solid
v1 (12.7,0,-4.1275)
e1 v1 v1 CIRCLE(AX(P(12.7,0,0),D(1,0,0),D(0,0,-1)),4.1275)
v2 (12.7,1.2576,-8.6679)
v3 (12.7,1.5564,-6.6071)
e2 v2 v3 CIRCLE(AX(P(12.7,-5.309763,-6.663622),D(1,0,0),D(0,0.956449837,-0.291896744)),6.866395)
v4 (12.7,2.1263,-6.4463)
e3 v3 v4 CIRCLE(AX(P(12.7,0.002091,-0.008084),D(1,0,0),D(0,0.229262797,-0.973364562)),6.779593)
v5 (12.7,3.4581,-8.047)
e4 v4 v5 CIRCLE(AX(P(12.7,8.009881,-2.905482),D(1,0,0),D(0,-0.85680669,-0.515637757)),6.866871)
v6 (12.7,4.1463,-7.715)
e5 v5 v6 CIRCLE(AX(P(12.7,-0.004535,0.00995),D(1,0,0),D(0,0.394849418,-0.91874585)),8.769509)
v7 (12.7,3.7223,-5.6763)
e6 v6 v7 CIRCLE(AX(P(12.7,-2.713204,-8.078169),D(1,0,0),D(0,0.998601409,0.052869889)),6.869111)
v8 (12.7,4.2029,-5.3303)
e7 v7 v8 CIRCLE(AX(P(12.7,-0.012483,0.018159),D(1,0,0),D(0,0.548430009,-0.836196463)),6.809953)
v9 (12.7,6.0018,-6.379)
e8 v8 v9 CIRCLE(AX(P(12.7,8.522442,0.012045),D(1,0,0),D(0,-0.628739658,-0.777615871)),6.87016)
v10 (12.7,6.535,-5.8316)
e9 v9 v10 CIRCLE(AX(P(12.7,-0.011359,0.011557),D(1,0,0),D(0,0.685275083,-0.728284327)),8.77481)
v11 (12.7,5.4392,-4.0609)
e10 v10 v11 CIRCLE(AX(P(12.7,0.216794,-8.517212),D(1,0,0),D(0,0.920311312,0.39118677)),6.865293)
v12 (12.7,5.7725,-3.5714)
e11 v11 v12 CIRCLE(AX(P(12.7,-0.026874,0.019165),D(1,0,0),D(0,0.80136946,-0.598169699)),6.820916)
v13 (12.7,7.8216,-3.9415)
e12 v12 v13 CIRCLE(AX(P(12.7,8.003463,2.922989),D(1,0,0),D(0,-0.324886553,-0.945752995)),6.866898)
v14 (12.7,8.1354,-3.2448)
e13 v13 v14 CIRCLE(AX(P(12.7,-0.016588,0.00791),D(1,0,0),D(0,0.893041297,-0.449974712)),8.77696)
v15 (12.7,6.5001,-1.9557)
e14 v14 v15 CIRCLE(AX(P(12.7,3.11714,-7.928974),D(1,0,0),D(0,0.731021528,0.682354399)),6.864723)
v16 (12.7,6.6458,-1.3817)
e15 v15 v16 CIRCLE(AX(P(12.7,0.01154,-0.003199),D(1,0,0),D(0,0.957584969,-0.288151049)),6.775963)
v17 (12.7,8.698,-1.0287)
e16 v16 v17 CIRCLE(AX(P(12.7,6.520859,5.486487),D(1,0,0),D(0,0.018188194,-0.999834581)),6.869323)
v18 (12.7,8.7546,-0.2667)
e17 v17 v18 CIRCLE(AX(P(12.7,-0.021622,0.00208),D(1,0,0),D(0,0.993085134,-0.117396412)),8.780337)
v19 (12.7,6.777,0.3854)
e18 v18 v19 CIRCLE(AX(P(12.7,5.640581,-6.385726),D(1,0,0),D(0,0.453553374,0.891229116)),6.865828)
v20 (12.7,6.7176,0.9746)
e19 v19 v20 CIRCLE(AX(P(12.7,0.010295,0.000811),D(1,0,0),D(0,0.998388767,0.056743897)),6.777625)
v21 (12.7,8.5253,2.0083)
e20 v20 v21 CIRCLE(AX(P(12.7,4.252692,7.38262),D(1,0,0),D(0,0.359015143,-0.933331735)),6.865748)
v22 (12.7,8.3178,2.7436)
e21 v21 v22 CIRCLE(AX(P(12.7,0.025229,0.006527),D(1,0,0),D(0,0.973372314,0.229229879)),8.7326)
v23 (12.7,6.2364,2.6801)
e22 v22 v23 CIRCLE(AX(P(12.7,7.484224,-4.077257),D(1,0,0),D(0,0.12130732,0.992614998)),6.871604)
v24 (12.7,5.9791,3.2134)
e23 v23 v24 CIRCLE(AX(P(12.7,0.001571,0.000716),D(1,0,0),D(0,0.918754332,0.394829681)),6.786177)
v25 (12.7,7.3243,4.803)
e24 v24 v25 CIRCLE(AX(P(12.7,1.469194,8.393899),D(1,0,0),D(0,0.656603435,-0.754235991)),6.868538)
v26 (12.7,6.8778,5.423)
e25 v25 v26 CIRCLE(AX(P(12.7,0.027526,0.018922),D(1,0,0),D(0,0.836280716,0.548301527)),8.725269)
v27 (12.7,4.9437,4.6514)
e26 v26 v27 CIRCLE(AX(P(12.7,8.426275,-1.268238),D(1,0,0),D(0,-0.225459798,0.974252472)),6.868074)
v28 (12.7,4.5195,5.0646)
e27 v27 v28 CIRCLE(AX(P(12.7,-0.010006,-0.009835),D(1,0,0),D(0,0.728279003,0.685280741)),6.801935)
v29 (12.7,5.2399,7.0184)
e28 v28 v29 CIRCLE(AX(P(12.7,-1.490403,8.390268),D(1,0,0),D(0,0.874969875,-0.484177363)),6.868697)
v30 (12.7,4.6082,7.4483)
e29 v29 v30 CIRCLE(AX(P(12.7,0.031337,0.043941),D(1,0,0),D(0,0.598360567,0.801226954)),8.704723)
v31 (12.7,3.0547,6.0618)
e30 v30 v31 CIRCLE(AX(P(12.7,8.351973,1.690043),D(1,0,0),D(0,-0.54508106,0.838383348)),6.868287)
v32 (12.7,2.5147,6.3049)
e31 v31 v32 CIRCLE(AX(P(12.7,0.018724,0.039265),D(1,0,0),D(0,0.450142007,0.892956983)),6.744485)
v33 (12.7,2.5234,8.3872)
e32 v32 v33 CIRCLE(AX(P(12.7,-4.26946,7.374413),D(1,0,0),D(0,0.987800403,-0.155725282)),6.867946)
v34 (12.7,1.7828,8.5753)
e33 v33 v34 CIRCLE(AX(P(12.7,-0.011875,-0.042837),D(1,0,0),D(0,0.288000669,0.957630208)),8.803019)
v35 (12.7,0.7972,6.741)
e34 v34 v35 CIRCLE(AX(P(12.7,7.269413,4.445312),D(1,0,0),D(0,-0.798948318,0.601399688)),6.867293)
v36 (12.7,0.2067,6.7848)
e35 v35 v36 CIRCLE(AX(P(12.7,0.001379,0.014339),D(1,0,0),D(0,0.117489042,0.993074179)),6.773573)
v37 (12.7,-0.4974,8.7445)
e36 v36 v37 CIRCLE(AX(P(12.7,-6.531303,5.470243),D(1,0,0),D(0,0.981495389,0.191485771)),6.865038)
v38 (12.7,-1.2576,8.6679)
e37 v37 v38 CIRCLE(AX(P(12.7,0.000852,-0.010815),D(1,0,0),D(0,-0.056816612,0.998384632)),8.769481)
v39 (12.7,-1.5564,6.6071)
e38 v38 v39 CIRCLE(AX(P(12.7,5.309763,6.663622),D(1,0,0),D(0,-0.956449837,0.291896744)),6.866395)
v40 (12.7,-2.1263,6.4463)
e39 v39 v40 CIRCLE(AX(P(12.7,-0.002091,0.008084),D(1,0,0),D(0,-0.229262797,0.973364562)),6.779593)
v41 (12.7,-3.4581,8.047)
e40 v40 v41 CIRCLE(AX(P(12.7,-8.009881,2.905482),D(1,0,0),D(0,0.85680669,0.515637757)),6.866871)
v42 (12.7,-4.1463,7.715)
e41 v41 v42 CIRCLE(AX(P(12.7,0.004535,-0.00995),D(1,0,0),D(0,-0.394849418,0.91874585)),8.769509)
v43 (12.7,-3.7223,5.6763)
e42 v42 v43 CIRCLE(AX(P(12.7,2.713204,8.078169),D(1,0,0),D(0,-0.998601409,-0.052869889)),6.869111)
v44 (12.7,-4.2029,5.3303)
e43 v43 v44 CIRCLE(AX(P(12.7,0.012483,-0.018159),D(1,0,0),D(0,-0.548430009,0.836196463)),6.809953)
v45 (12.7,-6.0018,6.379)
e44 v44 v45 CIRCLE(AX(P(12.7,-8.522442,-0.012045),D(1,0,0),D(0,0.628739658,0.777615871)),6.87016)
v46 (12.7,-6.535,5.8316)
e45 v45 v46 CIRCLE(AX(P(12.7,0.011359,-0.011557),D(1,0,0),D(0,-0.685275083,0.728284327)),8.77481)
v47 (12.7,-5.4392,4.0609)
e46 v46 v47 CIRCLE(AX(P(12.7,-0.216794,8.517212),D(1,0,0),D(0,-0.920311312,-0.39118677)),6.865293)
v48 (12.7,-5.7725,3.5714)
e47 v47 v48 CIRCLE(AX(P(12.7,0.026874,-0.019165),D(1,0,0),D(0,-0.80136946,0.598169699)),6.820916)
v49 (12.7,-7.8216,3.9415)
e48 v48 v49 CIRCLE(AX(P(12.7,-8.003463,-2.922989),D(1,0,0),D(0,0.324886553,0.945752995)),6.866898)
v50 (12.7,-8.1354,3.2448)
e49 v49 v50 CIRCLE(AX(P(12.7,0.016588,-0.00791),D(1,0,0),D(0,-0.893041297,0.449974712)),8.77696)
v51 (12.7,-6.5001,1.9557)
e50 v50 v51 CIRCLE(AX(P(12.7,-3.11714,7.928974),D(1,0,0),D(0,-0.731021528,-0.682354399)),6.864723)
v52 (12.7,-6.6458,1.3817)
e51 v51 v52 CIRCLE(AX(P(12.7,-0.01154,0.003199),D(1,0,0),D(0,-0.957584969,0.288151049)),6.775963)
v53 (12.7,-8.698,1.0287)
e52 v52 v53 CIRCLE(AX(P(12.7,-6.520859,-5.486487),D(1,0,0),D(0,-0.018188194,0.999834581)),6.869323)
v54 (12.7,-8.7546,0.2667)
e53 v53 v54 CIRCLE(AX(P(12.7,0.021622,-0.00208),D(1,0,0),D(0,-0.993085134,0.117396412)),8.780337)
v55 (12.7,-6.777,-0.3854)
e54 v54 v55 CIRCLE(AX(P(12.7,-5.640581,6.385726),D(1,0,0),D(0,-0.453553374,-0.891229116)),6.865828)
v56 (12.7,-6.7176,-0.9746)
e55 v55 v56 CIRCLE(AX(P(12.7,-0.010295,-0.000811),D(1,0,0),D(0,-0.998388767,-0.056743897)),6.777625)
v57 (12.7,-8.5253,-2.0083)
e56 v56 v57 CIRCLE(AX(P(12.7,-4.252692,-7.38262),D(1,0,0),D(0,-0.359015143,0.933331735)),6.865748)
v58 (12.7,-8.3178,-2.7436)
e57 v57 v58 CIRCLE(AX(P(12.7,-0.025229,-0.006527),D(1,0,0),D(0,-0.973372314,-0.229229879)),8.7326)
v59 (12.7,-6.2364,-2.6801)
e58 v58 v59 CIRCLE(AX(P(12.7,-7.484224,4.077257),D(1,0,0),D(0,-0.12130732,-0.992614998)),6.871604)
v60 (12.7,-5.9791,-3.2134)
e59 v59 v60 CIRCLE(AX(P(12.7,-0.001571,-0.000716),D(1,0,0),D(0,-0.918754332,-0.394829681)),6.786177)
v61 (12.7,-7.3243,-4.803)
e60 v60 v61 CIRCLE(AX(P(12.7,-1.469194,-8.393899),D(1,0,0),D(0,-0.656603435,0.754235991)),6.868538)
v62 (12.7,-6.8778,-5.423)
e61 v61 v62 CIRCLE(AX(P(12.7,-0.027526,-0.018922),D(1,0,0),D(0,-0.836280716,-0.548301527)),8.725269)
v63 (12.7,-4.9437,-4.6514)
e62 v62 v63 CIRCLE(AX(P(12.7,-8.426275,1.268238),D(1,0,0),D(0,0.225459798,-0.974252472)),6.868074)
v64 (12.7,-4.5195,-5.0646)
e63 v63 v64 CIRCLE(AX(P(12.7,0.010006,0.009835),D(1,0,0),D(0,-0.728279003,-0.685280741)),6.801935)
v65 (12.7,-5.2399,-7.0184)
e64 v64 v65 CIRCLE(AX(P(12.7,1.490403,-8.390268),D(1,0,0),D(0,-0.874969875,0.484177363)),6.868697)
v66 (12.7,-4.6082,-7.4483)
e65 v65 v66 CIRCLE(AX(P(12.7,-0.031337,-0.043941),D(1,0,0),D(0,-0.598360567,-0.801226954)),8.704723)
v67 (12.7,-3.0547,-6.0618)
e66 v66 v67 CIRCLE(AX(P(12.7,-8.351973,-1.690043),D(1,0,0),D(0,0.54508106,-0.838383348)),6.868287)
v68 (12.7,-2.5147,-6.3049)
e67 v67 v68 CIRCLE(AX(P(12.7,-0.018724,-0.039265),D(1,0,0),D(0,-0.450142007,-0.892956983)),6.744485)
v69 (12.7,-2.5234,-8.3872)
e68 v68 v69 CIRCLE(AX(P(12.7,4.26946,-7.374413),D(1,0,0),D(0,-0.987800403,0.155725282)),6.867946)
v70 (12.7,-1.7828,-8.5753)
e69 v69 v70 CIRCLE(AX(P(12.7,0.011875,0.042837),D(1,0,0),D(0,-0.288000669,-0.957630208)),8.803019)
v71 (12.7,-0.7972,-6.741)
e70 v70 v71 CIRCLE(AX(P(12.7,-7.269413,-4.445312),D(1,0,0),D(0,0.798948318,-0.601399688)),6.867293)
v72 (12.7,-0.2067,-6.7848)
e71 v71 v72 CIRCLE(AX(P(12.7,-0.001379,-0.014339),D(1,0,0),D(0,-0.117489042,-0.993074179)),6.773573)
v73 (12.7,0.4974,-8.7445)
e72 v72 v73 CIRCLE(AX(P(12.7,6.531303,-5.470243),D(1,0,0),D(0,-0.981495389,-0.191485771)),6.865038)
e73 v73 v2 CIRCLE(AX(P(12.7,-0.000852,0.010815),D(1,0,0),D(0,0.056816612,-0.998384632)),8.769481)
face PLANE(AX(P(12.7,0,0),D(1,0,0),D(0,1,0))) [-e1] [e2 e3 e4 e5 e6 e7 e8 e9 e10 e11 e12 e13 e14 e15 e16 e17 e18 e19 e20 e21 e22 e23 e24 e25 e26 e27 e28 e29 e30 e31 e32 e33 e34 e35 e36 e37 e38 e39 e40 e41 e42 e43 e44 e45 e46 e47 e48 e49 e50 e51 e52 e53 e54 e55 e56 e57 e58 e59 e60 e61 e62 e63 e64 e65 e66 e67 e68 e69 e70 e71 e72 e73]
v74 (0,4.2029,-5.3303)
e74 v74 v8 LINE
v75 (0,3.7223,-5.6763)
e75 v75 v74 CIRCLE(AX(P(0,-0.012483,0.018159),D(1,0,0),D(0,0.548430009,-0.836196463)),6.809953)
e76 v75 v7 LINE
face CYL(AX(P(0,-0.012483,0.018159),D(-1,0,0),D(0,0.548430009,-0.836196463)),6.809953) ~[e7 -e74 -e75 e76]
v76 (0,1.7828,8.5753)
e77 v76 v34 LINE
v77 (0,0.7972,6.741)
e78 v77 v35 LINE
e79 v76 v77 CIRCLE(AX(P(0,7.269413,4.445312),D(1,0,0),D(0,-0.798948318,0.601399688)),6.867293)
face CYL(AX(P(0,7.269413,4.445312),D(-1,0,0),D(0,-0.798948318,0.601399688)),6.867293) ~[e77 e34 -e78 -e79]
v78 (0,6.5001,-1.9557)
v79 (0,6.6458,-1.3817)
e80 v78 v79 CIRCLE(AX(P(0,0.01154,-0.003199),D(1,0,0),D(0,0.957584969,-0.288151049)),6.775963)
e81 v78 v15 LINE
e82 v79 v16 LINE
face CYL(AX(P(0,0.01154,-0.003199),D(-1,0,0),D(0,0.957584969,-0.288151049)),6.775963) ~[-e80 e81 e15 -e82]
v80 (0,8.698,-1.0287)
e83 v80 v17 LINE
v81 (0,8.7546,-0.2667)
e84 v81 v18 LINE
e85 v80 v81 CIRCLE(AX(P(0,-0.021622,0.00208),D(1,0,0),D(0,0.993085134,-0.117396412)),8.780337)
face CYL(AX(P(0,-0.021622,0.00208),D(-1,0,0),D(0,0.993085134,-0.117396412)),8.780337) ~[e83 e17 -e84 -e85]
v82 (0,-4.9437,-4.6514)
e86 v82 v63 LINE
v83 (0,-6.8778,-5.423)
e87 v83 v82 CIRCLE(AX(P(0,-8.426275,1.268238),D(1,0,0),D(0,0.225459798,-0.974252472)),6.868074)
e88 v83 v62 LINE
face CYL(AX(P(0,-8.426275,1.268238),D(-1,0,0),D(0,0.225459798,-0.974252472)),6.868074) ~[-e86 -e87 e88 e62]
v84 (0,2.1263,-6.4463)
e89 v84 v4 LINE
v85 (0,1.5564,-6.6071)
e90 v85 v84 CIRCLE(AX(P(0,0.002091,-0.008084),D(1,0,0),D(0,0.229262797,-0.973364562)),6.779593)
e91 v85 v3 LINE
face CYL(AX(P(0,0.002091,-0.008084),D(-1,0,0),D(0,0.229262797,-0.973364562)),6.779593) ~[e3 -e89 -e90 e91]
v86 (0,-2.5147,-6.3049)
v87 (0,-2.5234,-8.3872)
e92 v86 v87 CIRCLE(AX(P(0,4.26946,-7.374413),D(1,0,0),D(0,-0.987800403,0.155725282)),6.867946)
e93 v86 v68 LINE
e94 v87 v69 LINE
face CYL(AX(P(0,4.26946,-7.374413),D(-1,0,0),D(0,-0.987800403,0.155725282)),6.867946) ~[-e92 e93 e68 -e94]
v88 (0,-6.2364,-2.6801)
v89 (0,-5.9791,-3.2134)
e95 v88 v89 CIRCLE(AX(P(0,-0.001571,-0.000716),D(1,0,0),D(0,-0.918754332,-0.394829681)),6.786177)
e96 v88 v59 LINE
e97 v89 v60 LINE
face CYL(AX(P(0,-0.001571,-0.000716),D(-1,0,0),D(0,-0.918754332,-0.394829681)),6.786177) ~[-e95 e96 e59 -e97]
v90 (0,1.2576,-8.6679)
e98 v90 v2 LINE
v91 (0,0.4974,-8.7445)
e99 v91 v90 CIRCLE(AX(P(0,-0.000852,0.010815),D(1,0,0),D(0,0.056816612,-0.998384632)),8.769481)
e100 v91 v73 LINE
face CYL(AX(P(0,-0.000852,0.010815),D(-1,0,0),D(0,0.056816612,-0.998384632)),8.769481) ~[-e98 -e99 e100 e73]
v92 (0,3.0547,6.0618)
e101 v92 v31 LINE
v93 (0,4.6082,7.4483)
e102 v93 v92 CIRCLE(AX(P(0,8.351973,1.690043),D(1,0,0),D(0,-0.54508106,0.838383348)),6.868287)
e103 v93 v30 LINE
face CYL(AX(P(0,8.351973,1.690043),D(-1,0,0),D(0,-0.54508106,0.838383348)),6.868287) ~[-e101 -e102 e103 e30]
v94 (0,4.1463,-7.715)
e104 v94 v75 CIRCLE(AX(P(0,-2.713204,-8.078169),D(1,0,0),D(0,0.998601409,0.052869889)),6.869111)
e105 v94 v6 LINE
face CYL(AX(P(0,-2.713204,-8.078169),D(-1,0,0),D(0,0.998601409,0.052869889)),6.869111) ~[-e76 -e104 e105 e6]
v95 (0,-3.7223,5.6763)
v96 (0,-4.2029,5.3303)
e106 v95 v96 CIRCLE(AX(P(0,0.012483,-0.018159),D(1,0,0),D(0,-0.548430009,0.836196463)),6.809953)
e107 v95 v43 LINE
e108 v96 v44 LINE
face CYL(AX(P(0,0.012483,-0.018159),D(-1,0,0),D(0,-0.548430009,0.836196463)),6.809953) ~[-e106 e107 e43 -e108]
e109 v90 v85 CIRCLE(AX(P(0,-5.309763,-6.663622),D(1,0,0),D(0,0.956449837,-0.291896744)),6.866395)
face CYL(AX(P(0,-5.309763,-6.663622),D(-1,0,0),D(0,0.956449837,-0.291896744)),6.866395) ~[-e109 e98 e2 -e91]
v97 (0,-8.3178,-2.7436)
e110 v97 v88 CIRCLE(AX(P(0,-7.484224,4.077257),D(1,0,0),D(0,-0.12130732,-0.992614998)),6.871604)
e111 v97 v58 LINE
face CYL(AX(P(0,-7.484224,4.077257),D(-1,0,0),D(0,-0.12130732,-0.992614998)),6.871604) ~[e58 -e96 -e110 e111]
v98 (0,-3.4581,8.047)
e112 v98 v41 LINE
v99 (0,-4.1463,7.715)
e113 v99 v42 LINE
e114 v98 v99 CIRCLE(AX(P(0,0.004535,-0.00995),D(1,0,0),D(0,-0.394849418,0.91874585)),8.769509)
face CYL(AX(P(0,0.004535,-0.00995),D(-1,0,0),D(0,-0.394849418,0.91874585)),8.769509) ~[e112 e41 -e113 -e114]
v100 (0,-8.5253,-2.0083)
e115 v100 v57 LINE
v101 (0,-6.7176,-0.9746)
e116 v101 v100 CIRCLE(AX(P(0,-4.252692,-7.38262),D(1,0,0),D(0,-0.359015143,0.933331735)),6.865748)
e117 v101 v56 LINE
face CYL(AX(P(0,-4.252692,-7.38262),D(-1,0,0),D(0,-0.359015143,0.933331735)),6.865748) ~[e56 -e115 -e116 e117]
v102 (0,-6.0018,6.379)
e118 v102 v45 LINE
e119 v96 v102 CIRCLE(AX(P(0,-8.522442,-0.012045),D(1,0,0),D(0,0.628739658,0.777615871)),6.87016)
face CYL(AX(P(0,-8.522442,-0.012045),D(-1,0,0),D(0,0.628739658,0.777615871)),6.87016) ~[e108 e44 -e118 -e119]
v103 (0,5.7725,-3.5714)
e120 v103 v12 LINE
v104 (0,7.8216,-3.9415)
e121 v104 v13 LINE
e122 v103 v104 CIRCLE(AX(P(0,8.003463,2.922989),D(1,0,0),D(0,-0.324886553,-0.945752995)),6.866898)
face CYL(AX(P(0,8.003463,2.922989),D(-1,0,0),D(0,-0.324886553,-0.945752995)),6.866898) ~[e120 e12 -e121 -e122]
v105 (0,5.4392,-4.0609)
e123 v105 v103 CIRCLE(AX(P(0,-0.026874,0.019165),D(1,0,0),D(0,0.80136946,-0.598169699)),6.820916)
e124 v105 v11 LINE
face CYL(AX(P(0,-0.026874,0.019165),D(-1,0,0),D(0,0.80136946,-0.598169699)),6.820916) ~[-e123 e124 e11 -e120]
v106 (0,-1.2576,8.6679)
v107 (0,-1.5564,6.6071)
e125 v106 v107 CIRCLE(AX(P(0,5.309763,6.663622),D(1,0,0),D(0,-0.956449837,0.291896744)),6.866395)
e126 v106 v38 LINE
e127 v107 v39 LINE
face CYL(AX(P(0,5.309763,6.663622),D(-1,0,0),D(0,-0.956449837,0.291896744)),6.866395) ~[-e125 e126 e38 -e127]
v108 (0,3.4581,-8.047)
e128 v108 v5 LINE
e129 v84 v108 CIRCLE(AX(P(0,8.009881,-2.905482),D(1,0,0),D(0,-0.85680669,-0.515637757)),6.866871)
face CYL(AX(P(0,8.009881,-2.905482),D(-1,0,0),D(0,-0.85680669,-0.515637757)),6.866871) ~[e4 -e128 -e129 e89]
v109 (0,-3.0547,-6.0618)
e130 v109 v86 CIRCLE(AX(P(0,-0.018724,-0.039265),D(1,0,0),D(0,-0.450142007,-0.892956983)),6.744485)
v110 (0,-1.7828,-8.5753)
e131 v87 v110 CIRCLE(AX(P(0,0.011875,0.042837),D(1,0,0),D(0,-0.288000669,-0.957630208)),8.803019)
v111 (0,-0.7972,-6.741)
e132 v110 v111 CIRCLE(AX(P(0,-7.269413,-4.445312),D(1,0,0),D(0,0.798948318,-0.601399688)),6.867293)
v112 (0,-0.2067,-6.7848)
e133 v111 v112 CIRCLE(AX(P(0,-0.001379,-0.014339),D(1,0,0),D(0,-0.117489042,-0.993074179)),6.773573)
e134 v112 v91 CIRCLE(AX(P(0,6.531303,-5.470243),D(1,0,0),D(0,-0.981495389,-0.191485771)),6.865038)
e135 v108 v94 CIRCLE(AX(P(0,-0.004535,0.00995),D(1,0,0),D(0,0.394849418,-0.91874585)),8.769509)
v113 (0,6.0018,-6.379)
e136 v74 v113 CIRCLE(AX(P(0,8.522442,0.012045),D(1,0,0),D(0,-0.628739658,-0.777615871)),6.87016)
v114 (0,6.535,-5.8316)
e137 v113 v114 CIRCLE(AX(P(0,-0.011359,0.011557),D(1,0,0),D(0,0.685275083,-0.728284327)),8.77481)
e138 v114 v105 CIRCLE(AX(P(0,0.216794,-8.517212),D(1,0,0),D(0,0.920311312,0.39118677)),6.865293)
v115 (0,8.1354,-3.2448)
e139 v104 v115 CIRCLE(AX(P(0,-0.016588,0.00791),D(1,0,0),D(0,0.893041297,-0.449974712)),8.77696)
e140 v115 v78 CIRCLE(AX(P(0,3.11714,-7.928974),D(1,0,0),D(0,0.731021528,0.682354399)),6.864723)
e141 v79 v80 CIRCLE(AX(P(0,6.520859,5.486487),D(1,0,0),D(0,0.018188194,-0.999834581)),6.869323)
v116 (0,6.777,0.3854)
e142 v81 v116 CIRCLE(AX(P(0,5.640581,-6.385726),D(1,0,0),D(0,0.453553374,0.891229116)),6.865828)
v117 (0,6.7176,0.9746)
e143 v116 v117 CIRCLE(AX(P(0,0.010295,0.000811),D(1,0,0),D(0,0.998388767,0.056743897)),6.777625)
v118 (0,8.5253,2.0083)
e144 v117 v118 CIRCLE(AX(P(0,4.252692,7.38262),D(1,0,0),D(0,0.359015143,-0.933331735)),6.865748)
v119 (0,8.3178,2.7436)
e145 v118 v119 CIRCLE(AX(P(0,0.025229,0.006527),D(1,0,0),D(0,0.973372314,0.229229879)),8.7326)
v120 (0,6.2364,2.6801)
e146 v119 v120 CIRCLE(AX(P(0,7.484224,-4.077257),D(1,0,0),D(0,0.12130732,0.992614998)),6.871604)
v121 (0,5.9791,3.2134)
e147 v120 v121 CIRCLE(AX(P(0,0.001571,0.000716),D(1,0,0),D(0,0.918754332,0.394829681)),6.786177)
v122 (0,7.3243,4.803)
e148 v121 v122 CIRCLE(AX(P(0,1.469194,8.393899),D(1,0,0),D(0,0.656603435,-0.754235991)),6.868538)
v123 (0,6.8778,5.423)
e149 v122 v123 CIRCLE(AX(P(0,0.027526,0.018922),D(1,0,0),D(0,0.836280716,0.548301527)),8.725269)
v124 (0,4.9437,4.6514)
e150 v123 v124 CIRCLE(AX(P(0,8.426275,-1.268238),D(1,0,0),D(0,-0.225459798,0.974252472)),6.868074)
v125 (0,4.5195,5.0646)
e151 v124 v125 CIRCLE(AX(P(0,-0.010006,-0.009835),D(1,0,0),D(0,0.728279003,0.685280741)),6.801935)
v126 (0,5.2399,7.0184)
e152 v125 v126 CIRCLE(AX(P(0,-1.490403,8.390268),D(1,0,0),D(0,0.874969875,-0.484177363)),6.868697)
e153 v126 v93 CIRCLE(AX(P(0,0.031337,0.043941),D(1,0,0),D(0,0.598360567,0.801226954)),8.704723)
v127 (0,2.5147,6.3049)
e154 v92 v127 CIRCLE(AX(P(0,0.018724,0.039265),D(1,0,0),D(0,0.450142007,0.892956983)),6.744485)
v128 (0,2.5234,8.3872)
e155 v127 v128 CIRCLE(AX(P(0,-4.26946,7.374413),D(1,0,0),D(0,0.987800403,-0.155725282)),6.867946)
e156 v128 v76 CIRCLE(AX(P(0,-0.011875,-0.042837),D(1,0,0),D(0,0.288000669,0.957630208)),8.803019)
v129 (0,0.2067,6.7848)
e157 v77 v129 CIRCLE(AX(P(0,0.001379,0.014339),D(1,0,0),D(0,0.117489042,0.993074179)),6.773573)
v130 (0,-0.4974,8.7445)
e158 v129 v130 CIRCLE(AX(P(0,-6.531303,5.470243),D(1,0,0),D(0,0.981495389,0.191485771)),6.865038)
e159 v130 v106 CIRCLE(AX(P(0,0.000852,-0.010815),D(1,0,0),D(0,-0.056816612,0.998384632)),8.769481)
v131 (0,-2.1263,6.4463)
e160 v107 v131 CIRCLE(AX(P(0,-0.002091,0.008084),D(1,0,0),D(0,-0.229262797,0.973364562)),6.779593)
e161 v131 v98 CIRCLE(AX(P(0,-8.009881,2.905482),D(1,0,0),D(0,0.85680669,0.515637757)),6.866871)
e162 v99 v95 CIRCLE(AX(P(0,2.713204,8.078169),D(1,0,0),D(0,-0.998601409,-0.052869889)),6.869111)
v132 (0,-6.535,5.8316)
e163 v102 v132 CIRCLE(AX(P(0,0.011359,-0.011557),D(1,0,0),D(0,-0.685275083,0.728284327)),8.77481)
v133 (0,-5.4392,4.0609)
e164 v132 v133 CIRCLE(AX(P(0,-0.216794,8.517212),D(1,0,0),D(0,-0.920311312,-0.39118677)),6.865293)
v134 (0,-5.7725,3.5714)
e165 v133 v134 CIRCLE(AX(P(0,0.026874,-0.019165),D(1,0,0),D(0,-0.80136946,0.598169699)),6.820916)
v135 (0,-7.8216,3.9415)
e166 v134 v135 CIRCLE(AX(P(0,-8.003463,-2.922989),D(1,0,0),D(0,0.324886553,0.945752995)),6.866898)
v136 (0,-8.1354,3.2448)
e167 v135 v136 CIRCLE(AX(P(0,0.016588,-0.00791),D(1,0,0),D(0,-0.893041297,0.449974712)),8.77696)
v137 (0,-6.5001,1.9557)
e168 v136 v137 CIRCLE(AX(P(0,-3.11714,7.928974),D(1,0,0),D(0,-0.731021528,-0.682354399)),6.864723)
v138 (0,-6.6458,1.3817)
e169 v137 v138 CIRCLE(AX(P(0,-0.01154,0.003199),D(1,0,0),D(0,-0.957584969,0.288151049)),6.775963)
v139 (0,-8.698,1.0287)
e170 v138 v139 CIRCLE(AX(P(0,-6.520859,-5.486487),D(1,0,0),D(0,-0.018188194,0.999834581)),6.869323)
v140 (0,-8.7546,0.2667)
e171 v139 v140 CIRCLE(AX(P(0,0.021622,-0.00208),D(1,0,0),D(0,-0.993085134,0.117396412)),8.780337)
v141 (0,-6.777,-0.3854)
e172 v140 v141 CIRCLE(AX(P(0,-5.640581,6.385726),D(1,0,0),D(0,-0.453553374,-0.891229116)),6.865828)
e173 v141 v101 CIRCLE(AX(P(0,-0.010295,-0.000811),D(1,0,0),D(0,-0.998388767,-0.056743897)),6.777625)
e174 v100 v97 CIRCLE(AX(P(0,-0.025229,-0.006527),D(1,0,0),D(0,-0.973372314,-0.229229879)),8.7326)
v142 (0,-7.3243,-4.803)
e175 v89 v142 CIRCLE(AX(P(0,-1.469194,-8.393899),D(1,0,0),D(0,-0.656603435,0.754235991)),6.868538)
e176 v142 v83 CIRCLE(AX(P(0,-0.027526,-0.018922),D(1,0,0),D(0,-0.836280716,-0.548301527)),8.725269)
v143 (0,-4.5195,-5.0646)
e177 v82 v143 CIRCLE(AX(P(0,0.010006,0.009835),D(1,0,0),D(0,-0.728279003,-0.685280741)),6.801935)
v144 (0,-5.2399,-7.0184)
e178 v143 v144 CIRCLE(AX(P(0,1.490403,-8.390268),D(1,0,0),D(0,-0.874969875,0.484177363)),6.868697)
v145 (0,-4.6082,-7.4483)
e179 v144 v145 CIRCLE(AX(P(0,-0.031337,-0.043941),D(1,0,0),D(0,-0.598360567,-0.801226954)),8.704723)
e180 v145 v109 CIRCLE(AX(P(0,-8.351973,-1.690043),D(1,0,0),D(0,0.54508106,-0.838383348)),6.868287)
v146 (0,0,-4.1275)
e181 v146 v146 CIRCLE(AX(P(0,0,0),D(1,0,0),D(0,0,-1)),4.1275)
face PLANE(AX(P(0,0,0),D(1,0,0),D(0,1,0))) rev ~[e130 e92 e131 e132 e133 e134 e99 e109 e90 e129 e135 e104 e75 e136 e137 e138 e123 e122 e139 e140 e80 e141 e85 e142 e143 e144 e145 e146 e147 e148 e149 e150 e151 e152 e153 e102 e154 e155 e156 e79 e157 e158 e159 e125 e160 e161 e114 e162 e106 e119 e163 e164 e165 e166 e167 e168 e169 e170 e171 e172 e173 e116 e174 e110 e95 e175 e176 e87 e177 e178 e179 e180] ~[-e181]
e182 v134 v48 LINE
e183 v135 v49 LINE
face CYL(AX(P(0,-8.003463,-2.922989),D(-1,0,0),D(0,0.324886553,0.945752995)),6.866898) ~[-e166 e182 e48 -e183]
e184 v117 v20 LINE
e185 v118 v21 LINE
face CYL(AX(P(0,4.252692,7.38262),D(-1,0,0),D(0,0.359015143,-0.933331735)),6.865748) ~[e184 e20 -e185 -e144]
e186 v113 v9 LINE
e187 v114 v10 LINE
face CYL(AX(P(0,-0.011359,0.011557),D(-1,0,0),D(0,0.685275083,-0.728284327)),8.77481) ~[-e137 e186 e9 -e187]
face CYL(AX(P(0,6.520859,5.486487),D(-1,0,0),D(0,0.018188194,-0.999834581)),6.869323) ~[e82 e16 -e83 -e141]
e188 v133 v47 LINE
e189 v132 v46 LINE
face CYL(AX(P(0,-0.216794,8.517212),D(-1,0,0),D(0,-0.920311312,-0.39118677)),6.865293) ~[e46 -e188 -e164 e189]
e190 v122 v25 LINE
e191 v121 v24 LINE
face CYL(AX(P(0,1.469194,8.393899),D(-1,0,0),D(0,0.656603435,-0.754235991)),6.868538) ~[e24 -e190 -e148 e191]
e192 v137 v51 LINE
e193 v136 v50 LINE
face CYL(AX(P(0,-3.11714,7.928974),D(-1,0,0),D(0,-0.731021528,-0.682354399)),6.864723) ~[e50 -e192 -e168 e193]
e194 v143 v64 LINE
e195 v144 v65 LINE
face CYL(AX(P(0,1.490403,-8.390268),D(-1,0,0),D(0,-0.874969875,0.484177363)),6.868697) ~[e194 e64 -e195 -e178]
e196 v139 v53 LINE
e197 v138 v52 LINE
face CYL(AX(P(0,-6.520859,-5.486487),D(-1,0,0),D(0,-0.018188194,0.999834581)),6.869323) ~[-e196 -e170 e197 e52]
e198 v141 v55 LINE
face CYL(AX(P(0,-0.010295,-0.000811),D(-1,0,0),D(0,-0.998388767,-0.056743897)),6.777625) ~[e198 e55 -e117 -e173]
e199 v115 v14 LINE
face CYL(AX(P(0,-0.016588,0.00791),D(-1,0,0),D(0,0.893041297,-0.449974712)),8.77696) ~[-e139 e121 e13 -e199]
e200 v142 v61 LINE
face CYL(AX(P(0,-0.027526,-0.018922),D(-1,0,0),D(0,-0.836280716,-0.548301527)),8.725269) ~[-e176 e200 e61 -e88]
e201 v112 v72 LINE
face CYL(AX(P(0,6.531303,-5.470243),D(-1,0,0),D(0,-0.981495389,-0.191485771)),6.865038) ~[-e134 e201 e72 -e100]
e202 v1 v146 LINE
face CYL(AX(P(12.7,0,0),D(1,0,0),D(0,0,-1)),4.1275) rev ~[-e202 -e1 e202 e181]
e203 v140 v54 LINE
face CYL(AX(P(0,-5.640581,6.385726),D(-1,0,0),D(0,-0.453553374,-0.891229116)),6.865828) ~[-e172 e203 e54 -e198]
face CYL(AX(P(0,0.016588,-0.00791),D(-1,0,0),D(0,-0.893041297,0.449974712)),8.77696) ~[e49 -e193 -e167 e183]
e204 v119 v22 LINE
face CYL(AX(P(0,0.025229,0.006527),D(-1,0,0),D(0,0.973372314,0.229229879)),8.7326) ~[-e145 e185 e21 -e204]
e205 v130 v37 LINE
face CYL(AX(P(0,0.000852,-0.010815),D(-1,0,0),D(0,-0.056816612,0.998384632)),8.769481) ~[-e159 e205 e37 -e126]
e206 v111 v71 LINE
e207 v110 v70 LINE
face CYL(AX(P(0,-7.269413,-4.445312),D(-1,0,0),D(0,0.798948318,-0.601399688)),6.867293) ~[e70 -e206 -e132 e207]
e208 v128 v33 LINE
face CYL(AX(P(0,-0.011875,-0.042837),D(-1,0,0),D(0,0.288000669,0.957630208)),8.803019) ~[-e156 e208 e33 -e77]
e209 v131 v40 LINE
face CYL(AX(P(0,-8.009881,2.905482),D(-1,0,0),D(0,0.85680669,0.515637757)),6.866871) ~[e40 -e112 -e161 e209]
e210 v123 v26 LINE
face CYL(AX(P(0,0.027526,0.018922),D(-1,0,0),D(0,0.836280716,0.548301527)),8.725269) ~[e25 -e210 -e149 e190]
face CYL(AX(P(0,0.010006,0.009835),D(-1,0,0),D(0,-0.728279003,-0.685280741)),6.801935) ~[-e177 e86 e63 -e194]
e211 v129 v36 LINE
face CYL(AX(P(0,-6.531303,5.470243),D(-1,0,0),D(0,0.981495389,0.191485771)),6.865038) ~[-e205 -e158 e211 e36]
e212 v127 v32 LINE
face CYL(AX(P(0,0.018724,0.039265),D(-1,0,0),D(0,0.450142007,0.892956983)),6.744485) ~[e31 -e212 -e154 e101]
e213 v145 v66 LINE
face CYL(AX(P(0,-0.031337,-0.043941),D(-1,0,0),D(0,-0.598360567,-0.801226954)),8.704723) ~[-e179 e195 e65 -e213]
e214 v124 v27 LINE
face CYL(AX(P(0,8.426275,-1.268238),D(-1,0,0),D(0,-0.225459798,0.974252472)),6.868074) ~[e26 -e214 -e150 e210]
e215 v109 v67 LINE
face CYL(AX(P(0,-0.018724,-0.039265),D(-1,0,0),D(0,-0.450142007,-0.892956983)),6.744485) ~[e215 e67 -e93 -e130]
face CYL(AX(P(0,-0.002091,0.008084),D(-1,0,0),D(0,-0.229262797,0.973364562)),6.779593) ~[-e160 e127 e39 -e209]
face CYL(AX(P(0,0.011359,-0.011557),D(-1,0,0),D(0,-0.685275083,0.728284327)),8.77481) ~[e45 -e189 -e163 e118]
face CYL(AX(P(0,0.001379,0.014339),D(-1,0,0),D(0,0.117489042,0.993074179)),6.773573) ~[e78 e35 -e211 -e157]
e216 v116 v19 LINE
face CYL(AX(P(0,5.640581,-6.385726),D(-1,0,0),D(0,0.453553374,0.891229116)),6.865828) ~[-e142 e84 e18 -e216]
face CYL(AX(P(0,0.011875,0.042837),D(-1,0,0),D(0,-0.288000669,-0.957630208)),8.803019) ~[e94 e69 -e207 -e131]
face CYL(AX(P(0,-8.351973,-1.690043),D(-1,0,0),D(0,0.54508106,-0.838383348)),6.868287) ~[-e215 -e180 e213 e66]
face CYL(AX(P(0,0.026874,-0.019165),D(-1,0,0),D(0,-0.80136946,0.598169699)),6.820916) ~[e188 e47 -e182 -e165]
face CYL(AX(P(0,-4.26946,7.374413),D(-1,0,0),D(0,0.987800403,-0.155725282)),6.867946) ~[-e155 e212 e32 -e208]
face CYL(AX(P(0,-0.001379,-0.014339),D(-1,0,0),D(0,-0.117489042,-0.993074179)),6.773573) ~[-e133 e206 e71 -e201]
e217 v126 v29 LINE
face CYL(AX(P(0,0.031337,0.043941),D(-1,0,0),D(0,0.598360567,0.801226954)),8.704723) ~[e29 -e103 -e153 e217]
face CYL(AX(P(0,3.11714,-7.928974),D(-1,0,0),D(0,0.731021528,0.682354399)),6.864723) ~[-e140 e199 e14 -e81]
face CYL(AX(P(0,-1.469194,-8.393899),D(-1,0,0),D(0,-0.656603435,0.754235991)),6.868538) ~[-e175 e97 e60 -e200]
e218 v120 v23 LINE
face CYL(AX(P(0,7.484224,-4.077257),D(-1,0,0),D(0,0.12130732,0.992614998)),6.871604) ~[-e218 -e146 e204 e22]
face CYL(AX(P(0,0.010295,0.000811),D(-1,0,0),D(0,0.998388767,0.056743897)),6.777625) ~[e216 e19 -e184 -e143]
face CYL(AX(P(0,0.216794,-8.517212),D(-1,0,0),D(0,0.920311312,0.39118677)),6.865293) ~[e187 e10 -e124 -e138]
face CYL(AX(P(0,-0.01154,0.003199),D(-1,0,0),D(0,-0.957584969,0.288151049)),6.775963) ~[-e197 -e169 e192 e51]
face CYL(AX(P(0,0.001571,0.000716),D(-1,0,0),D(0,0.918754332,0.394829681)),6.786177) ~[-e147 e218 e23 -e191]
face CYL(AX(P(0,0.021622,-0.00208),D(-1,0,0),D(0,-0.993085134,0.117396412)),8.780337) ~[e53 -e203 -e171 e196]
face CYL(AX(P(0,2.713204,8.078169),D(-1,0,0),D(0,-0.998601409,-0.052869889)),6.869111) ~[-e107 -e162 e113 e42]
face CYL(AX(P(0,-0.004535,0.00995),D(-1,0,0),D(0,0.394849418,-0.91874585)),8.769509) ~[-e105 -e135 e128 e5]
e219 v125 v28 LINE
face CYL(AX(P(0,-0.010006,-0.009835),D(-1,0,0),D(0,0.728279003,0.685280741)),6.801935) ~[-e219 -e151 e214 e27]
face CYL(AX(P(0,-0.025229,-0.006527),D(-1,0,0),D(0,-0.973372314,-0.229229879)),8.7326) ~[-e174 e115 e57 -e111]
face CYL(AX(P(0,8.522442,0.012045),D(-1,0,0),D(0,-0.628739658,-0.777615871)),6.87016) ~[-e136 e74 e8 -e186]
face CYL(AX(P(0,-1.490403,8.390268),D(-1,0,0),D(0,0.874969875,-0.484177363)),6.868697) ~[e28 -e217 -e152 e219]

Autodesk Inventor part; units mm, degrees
ref_plane "YZ Plane" through (0, 0, 0) normal (1, 0, 0) x (0, 1, 0)
ref_plane "XZ Plane" through (0, 0, 0) normal (0, 1, 0) x (-1, 0, 0)
ref_plane "XY Plane" through (0, 0, 0) normal (0, 0, 1) x (1, 0, 0)
sketch "Sketch1" plane through (0, 0, 0) normal (1, 0, 0) x (0, 1, 0)
  arc A0 (0.2067, 6.7848) -> (-0.4974, 8.7445) centre (-6.534, 5.4695) ccw
  arc A1 (-0.4974, 8.7445) -> (-1.2576, 8.6679) centre (0, 0) ccw
  arc A2 (-1.2576, 8.6679) -> (-1.5564, 6.6071) centre (5.3112, 6.6633) ccw
  arc A3 (-1.5564, 6.6071) -> (-2.1263, 6.4463) centre (0, 0) ccw
  arc A4 (-2.1263, 6.4463) -> (-3.4581, 8.047) centre (-8.0107, 2.9049) ccw
  arc A5 (-3.4581, 8.047) -> (-4.1463, 7.715) centre (0, 0) ccw
  arc A6 (-4.1463, 7.715) -> (-3.7223, 5.6763) centre (2.7119, 8.078) ccw
  arc A7 (-3.7223, 5.6763) -> (-4.2029, 5.3303) centre (0, 0) ccw
  arc A8 (-4.2029, 5.3303) -> (-6.0018, 6.379) centre (-8.5211, -0.0101) ccw
  arc A9 (-6.0018, 6.379) -> (-6.535, 5.8316) centre (0, 0) ccw
  arc A10 (-6.535, 5.8316) -> (-5.4392, 4.0609) centre (-0.2145, 8.5184) ccw
  arc A11 (-5.4392, 4.0609) -> (-5.7725, 3.5714) centre (0, 0) ccw
  arc A12 (-5.7725, 3.5714) -> (-7.8216, 3.9415) centre (-8.0037, -2.9239) ccw
  arc A13 (-7.8216, 3.9415) -> (-8.1354, 3.2448) centre (0, 0) ccw
  arc A14 (-8.1354, 3.2448) -> (-6.5001, 1.9557) centre (-3.115, 7.9313) ccw
  arc A15 (-6.5001, 1.9557) -> (-6.6458, 1.3817) centre (0, 0) ccw
  arc A16 (-6.6458, 1.3817) -> (-8.698, 1.0287) centre (-6.521, -5.485) ccw
  arc A17 (-8.698, 1.0287) -> (-8.7546, 0.2667) centre (0, 0) ccw
  arc A18 (-8.7546, 0.2667) -> (-6.777, -0.3854) centre (-5.6398, 6.3876) ccw
  arc A19 (-6.777, -0.3854) -> (-6.7176, -0.9746) centre (0, 0) ccw
  arc A20 (-6.7176, -0.9746) -> (-8.5253, -2.0083) centre (-4.2518, -7.3845) ccw
  arc A21 (-8.5253, -2.0083) -> (-8.3178, -2.7436) centre (0, 0) ccw
  arc A22 (-8.3178, -2.7436) -> (-6.2364, -2.6801) centre (-7.4844, 4.0734) ccw
  arc A23 (-6.2364, -2.6801) -> (-5.9791, -3.2134) centre (0, 0) ccw
  arc A24 (-5.9791, -3.2134) -> (-7.3243, -4.803) centre (-1.4697, -8.3934) ccw
  arc A25 (-7.3243, -4.803) -> (-6.8778, -5.423) centre (0, 0) ccw
  arc A26 (-6.8778, -5.423) -> (-4.9437, -4.6514) centre (-8.4262, 1.268) ccw
  arc A27 (-4.9437, -4.6514) -> (-4.5195, -5.0646) centre (0, 0) ccw
  arc A28 (-4.5195, -5.0646) -> (-5.2399, -7.0184) centre (1.4896, -8.3899) ccw
  arc A29 (-5.2399, -7.0184) -> (-4.6082, -7.4483) centre (0, 0) ccw
  arc A30 (-4.6082, -7.4483) -> (-3.0547, -6.0618) centre (-8.3517, -1.6904) ccw
  arc A31 (-3.0547, -6.0618) -> (-2.5147, -6.3049) centre (0, 0) ccw
  arc A32 (-2.5147, -6.3049) -> (-2.5234, -8.3872) centre (4.2693, -7.3744) ccw
  arc A33 (-2.5234, -8.3872) -> (-1.7828, -8.5753) centre (0, 0) ccw
  arc A34 (-1.7828, -8.5753) -> (-0.7972, -6.741) centre (-7.2699, -4.445) ccw
  arc A35 (-0.7972, -6.741) -> (-0.2067, -6.7848) centre (0, 0) ccw
  arc A36 (-0.2067, -6.7848) -> (0.4974, -8.7445) centre (6.534, -5.4695) ccw
  arc A37 (0.4974, -8.7445) -> (1.2576, -8.6679) centre (0, 0) ccw
  arc A38 (1.2576, -8.6679) -> (1.5564, -6.6071) centre (-5.3112, -6.6633) ccw
  arc A39 (1.5564, -6.6071) -> (2.1263, -6.4463) centre (0, 0) ccw
  arc A40 (2.1263, -6.4463) -> (3.4581, -8.047) centre (8.0107, -2.9049) ccw
  arc A41 (3.4581, -8.047) -> (4.1463, -7.715) centre (0, 0) ccw
  arc A42 (4.1463, -7.715) -> (3.7223, -5.6763) centre (-2.7119, -8.078) ccw
  arc A43 (3.7223, -5.6763) -> (4.2029, -5.3303) centre (0, 0) ccw
  arc A44 (4.2029, -5.3303) -> (6.0018, -6.379) centre (8.5211, 0.0101) ccw
  arc A45 (6.0018, -6.379) -> (6.535, -5.8316) centre (0, 0) ccw
  arc A46 (6.535, -5.8316) -> (5.4392, -4.0609) centre (0.2145, -8.5184) ccw
  arc A47 (5.4392, -4.0609) -> (5.7725, -3.5714) centre (0, 0) ccw
  arc A48 (5.7725, -3.5714) -> (7.8216, -3.9415) centre (8.0037, 2.9239) ccw
  arc A49 (7.8216, -3.9415) -> (8.1354, -3.2448) centre (0, 0) ccw
  arc A50 (8.1354, -3.2448) -> (6.5001, -1.9557) centre (3.115, -7.9313) ccw
  arc A51 (6.5001, -1.9557) -> (6.6458, -1.3817) centre (0, 0) ccw
  arc A52 (6.6458, -1.3817) -> (8.698, -1.0287) centre (6.521, 5.485) ccw
  arc A53 (8.698, -1.0287) -> (8.7546, -0.2667) centre (0, 0) ccw
  arc A54 (8.7546, -0.2667) -> (6.777, 0.3854) centre (5.6398, -6.3876) ccw
  arc A55 (6.777, 0.3854) -> (6.7176, 0.9746) centre (0, 0) ccw
  arc A56 (6.7176, 0.9746) -> (8.5253, 2.0083) centre (4.2518, 7.3845) ccw
  arc A57 (8.5253, 2.0083) -> (8.3178, 2.7436) centre (0, 0) ccw
  arc A58 (8.3178, 2.7436) -> (6.2364, 2.6801) centre (7.4844, -4.0734) ccw
  arc A59 (6.2364, 2.6801) -> (5.9791, 3.2134) centre (0, 0) ccw
  arc A60 (5.9791, 3.2134) -> (7.3243, 4.803) centre (1.4697, 8.3934) ccw
  arc A61 (7.3243, 4.803) -> (6.8778, 5.423) centre (0, 0) ccw
  arc A62 (6.8778, 5.423) -> (4.9437, 4.6514) centre (8.4262, -1.268) ccw
  arc A63 (4.9437, 4.6514) -> (4.5195, 5.0646) centre (0, 0) ccw
  arc A64 (4.5195, 5.0646) -> (5.2399, 7.0184) centre (-1.4896, 8.3899) ccw
  arc A65 (5.2399, 7.0184) -> (4.6082, 7.4483) centre (0, 0) ccw
  arc A66 (4.6082, 7.4483) -> (3.0547, 6.0618) centre (8.3517, 1.6904) ccw
  arc A67 (3.0547, 6.0618) -> (2.5147, 6.3049) centre (0, 0) ccw
  arc A68 (2.5147, 6.3049) -> (2.5234, 8.3872) centre (-4.2693, 7.3744) ccw
  arc A69 (2.5234, 8.3872) -> (1.7828, 8.5753) centre (0, 0) ccw
  arc A70 (1.7828, 8.5753) -> (0.7972, 6.741) centre (7.2699, 4.445) ccw
  arc A71 (0.7972, 6.741) -> (0.2067, 6.7848) centre (0, 0) ccw
  point P0 (0, 0)
extrude "Extrusion1" add sketch "Sketch1" along normal blind 12.7
sketch "Sketch2" plane through (12.7, 0, 0) normal (1, 0, 0) x (0, 0, -1)
  arc A0 (-6.741, 0.7972) -> (-6.7848, 0.2067) centre (0, 0) ccw projected
  circle A1 centre (0, 0) radius 4.1275
  dimension "d2" = 8.255
extrude "Extrusion2" cut sketch "Sketch2" against normal through all
properties part number "Gear"
